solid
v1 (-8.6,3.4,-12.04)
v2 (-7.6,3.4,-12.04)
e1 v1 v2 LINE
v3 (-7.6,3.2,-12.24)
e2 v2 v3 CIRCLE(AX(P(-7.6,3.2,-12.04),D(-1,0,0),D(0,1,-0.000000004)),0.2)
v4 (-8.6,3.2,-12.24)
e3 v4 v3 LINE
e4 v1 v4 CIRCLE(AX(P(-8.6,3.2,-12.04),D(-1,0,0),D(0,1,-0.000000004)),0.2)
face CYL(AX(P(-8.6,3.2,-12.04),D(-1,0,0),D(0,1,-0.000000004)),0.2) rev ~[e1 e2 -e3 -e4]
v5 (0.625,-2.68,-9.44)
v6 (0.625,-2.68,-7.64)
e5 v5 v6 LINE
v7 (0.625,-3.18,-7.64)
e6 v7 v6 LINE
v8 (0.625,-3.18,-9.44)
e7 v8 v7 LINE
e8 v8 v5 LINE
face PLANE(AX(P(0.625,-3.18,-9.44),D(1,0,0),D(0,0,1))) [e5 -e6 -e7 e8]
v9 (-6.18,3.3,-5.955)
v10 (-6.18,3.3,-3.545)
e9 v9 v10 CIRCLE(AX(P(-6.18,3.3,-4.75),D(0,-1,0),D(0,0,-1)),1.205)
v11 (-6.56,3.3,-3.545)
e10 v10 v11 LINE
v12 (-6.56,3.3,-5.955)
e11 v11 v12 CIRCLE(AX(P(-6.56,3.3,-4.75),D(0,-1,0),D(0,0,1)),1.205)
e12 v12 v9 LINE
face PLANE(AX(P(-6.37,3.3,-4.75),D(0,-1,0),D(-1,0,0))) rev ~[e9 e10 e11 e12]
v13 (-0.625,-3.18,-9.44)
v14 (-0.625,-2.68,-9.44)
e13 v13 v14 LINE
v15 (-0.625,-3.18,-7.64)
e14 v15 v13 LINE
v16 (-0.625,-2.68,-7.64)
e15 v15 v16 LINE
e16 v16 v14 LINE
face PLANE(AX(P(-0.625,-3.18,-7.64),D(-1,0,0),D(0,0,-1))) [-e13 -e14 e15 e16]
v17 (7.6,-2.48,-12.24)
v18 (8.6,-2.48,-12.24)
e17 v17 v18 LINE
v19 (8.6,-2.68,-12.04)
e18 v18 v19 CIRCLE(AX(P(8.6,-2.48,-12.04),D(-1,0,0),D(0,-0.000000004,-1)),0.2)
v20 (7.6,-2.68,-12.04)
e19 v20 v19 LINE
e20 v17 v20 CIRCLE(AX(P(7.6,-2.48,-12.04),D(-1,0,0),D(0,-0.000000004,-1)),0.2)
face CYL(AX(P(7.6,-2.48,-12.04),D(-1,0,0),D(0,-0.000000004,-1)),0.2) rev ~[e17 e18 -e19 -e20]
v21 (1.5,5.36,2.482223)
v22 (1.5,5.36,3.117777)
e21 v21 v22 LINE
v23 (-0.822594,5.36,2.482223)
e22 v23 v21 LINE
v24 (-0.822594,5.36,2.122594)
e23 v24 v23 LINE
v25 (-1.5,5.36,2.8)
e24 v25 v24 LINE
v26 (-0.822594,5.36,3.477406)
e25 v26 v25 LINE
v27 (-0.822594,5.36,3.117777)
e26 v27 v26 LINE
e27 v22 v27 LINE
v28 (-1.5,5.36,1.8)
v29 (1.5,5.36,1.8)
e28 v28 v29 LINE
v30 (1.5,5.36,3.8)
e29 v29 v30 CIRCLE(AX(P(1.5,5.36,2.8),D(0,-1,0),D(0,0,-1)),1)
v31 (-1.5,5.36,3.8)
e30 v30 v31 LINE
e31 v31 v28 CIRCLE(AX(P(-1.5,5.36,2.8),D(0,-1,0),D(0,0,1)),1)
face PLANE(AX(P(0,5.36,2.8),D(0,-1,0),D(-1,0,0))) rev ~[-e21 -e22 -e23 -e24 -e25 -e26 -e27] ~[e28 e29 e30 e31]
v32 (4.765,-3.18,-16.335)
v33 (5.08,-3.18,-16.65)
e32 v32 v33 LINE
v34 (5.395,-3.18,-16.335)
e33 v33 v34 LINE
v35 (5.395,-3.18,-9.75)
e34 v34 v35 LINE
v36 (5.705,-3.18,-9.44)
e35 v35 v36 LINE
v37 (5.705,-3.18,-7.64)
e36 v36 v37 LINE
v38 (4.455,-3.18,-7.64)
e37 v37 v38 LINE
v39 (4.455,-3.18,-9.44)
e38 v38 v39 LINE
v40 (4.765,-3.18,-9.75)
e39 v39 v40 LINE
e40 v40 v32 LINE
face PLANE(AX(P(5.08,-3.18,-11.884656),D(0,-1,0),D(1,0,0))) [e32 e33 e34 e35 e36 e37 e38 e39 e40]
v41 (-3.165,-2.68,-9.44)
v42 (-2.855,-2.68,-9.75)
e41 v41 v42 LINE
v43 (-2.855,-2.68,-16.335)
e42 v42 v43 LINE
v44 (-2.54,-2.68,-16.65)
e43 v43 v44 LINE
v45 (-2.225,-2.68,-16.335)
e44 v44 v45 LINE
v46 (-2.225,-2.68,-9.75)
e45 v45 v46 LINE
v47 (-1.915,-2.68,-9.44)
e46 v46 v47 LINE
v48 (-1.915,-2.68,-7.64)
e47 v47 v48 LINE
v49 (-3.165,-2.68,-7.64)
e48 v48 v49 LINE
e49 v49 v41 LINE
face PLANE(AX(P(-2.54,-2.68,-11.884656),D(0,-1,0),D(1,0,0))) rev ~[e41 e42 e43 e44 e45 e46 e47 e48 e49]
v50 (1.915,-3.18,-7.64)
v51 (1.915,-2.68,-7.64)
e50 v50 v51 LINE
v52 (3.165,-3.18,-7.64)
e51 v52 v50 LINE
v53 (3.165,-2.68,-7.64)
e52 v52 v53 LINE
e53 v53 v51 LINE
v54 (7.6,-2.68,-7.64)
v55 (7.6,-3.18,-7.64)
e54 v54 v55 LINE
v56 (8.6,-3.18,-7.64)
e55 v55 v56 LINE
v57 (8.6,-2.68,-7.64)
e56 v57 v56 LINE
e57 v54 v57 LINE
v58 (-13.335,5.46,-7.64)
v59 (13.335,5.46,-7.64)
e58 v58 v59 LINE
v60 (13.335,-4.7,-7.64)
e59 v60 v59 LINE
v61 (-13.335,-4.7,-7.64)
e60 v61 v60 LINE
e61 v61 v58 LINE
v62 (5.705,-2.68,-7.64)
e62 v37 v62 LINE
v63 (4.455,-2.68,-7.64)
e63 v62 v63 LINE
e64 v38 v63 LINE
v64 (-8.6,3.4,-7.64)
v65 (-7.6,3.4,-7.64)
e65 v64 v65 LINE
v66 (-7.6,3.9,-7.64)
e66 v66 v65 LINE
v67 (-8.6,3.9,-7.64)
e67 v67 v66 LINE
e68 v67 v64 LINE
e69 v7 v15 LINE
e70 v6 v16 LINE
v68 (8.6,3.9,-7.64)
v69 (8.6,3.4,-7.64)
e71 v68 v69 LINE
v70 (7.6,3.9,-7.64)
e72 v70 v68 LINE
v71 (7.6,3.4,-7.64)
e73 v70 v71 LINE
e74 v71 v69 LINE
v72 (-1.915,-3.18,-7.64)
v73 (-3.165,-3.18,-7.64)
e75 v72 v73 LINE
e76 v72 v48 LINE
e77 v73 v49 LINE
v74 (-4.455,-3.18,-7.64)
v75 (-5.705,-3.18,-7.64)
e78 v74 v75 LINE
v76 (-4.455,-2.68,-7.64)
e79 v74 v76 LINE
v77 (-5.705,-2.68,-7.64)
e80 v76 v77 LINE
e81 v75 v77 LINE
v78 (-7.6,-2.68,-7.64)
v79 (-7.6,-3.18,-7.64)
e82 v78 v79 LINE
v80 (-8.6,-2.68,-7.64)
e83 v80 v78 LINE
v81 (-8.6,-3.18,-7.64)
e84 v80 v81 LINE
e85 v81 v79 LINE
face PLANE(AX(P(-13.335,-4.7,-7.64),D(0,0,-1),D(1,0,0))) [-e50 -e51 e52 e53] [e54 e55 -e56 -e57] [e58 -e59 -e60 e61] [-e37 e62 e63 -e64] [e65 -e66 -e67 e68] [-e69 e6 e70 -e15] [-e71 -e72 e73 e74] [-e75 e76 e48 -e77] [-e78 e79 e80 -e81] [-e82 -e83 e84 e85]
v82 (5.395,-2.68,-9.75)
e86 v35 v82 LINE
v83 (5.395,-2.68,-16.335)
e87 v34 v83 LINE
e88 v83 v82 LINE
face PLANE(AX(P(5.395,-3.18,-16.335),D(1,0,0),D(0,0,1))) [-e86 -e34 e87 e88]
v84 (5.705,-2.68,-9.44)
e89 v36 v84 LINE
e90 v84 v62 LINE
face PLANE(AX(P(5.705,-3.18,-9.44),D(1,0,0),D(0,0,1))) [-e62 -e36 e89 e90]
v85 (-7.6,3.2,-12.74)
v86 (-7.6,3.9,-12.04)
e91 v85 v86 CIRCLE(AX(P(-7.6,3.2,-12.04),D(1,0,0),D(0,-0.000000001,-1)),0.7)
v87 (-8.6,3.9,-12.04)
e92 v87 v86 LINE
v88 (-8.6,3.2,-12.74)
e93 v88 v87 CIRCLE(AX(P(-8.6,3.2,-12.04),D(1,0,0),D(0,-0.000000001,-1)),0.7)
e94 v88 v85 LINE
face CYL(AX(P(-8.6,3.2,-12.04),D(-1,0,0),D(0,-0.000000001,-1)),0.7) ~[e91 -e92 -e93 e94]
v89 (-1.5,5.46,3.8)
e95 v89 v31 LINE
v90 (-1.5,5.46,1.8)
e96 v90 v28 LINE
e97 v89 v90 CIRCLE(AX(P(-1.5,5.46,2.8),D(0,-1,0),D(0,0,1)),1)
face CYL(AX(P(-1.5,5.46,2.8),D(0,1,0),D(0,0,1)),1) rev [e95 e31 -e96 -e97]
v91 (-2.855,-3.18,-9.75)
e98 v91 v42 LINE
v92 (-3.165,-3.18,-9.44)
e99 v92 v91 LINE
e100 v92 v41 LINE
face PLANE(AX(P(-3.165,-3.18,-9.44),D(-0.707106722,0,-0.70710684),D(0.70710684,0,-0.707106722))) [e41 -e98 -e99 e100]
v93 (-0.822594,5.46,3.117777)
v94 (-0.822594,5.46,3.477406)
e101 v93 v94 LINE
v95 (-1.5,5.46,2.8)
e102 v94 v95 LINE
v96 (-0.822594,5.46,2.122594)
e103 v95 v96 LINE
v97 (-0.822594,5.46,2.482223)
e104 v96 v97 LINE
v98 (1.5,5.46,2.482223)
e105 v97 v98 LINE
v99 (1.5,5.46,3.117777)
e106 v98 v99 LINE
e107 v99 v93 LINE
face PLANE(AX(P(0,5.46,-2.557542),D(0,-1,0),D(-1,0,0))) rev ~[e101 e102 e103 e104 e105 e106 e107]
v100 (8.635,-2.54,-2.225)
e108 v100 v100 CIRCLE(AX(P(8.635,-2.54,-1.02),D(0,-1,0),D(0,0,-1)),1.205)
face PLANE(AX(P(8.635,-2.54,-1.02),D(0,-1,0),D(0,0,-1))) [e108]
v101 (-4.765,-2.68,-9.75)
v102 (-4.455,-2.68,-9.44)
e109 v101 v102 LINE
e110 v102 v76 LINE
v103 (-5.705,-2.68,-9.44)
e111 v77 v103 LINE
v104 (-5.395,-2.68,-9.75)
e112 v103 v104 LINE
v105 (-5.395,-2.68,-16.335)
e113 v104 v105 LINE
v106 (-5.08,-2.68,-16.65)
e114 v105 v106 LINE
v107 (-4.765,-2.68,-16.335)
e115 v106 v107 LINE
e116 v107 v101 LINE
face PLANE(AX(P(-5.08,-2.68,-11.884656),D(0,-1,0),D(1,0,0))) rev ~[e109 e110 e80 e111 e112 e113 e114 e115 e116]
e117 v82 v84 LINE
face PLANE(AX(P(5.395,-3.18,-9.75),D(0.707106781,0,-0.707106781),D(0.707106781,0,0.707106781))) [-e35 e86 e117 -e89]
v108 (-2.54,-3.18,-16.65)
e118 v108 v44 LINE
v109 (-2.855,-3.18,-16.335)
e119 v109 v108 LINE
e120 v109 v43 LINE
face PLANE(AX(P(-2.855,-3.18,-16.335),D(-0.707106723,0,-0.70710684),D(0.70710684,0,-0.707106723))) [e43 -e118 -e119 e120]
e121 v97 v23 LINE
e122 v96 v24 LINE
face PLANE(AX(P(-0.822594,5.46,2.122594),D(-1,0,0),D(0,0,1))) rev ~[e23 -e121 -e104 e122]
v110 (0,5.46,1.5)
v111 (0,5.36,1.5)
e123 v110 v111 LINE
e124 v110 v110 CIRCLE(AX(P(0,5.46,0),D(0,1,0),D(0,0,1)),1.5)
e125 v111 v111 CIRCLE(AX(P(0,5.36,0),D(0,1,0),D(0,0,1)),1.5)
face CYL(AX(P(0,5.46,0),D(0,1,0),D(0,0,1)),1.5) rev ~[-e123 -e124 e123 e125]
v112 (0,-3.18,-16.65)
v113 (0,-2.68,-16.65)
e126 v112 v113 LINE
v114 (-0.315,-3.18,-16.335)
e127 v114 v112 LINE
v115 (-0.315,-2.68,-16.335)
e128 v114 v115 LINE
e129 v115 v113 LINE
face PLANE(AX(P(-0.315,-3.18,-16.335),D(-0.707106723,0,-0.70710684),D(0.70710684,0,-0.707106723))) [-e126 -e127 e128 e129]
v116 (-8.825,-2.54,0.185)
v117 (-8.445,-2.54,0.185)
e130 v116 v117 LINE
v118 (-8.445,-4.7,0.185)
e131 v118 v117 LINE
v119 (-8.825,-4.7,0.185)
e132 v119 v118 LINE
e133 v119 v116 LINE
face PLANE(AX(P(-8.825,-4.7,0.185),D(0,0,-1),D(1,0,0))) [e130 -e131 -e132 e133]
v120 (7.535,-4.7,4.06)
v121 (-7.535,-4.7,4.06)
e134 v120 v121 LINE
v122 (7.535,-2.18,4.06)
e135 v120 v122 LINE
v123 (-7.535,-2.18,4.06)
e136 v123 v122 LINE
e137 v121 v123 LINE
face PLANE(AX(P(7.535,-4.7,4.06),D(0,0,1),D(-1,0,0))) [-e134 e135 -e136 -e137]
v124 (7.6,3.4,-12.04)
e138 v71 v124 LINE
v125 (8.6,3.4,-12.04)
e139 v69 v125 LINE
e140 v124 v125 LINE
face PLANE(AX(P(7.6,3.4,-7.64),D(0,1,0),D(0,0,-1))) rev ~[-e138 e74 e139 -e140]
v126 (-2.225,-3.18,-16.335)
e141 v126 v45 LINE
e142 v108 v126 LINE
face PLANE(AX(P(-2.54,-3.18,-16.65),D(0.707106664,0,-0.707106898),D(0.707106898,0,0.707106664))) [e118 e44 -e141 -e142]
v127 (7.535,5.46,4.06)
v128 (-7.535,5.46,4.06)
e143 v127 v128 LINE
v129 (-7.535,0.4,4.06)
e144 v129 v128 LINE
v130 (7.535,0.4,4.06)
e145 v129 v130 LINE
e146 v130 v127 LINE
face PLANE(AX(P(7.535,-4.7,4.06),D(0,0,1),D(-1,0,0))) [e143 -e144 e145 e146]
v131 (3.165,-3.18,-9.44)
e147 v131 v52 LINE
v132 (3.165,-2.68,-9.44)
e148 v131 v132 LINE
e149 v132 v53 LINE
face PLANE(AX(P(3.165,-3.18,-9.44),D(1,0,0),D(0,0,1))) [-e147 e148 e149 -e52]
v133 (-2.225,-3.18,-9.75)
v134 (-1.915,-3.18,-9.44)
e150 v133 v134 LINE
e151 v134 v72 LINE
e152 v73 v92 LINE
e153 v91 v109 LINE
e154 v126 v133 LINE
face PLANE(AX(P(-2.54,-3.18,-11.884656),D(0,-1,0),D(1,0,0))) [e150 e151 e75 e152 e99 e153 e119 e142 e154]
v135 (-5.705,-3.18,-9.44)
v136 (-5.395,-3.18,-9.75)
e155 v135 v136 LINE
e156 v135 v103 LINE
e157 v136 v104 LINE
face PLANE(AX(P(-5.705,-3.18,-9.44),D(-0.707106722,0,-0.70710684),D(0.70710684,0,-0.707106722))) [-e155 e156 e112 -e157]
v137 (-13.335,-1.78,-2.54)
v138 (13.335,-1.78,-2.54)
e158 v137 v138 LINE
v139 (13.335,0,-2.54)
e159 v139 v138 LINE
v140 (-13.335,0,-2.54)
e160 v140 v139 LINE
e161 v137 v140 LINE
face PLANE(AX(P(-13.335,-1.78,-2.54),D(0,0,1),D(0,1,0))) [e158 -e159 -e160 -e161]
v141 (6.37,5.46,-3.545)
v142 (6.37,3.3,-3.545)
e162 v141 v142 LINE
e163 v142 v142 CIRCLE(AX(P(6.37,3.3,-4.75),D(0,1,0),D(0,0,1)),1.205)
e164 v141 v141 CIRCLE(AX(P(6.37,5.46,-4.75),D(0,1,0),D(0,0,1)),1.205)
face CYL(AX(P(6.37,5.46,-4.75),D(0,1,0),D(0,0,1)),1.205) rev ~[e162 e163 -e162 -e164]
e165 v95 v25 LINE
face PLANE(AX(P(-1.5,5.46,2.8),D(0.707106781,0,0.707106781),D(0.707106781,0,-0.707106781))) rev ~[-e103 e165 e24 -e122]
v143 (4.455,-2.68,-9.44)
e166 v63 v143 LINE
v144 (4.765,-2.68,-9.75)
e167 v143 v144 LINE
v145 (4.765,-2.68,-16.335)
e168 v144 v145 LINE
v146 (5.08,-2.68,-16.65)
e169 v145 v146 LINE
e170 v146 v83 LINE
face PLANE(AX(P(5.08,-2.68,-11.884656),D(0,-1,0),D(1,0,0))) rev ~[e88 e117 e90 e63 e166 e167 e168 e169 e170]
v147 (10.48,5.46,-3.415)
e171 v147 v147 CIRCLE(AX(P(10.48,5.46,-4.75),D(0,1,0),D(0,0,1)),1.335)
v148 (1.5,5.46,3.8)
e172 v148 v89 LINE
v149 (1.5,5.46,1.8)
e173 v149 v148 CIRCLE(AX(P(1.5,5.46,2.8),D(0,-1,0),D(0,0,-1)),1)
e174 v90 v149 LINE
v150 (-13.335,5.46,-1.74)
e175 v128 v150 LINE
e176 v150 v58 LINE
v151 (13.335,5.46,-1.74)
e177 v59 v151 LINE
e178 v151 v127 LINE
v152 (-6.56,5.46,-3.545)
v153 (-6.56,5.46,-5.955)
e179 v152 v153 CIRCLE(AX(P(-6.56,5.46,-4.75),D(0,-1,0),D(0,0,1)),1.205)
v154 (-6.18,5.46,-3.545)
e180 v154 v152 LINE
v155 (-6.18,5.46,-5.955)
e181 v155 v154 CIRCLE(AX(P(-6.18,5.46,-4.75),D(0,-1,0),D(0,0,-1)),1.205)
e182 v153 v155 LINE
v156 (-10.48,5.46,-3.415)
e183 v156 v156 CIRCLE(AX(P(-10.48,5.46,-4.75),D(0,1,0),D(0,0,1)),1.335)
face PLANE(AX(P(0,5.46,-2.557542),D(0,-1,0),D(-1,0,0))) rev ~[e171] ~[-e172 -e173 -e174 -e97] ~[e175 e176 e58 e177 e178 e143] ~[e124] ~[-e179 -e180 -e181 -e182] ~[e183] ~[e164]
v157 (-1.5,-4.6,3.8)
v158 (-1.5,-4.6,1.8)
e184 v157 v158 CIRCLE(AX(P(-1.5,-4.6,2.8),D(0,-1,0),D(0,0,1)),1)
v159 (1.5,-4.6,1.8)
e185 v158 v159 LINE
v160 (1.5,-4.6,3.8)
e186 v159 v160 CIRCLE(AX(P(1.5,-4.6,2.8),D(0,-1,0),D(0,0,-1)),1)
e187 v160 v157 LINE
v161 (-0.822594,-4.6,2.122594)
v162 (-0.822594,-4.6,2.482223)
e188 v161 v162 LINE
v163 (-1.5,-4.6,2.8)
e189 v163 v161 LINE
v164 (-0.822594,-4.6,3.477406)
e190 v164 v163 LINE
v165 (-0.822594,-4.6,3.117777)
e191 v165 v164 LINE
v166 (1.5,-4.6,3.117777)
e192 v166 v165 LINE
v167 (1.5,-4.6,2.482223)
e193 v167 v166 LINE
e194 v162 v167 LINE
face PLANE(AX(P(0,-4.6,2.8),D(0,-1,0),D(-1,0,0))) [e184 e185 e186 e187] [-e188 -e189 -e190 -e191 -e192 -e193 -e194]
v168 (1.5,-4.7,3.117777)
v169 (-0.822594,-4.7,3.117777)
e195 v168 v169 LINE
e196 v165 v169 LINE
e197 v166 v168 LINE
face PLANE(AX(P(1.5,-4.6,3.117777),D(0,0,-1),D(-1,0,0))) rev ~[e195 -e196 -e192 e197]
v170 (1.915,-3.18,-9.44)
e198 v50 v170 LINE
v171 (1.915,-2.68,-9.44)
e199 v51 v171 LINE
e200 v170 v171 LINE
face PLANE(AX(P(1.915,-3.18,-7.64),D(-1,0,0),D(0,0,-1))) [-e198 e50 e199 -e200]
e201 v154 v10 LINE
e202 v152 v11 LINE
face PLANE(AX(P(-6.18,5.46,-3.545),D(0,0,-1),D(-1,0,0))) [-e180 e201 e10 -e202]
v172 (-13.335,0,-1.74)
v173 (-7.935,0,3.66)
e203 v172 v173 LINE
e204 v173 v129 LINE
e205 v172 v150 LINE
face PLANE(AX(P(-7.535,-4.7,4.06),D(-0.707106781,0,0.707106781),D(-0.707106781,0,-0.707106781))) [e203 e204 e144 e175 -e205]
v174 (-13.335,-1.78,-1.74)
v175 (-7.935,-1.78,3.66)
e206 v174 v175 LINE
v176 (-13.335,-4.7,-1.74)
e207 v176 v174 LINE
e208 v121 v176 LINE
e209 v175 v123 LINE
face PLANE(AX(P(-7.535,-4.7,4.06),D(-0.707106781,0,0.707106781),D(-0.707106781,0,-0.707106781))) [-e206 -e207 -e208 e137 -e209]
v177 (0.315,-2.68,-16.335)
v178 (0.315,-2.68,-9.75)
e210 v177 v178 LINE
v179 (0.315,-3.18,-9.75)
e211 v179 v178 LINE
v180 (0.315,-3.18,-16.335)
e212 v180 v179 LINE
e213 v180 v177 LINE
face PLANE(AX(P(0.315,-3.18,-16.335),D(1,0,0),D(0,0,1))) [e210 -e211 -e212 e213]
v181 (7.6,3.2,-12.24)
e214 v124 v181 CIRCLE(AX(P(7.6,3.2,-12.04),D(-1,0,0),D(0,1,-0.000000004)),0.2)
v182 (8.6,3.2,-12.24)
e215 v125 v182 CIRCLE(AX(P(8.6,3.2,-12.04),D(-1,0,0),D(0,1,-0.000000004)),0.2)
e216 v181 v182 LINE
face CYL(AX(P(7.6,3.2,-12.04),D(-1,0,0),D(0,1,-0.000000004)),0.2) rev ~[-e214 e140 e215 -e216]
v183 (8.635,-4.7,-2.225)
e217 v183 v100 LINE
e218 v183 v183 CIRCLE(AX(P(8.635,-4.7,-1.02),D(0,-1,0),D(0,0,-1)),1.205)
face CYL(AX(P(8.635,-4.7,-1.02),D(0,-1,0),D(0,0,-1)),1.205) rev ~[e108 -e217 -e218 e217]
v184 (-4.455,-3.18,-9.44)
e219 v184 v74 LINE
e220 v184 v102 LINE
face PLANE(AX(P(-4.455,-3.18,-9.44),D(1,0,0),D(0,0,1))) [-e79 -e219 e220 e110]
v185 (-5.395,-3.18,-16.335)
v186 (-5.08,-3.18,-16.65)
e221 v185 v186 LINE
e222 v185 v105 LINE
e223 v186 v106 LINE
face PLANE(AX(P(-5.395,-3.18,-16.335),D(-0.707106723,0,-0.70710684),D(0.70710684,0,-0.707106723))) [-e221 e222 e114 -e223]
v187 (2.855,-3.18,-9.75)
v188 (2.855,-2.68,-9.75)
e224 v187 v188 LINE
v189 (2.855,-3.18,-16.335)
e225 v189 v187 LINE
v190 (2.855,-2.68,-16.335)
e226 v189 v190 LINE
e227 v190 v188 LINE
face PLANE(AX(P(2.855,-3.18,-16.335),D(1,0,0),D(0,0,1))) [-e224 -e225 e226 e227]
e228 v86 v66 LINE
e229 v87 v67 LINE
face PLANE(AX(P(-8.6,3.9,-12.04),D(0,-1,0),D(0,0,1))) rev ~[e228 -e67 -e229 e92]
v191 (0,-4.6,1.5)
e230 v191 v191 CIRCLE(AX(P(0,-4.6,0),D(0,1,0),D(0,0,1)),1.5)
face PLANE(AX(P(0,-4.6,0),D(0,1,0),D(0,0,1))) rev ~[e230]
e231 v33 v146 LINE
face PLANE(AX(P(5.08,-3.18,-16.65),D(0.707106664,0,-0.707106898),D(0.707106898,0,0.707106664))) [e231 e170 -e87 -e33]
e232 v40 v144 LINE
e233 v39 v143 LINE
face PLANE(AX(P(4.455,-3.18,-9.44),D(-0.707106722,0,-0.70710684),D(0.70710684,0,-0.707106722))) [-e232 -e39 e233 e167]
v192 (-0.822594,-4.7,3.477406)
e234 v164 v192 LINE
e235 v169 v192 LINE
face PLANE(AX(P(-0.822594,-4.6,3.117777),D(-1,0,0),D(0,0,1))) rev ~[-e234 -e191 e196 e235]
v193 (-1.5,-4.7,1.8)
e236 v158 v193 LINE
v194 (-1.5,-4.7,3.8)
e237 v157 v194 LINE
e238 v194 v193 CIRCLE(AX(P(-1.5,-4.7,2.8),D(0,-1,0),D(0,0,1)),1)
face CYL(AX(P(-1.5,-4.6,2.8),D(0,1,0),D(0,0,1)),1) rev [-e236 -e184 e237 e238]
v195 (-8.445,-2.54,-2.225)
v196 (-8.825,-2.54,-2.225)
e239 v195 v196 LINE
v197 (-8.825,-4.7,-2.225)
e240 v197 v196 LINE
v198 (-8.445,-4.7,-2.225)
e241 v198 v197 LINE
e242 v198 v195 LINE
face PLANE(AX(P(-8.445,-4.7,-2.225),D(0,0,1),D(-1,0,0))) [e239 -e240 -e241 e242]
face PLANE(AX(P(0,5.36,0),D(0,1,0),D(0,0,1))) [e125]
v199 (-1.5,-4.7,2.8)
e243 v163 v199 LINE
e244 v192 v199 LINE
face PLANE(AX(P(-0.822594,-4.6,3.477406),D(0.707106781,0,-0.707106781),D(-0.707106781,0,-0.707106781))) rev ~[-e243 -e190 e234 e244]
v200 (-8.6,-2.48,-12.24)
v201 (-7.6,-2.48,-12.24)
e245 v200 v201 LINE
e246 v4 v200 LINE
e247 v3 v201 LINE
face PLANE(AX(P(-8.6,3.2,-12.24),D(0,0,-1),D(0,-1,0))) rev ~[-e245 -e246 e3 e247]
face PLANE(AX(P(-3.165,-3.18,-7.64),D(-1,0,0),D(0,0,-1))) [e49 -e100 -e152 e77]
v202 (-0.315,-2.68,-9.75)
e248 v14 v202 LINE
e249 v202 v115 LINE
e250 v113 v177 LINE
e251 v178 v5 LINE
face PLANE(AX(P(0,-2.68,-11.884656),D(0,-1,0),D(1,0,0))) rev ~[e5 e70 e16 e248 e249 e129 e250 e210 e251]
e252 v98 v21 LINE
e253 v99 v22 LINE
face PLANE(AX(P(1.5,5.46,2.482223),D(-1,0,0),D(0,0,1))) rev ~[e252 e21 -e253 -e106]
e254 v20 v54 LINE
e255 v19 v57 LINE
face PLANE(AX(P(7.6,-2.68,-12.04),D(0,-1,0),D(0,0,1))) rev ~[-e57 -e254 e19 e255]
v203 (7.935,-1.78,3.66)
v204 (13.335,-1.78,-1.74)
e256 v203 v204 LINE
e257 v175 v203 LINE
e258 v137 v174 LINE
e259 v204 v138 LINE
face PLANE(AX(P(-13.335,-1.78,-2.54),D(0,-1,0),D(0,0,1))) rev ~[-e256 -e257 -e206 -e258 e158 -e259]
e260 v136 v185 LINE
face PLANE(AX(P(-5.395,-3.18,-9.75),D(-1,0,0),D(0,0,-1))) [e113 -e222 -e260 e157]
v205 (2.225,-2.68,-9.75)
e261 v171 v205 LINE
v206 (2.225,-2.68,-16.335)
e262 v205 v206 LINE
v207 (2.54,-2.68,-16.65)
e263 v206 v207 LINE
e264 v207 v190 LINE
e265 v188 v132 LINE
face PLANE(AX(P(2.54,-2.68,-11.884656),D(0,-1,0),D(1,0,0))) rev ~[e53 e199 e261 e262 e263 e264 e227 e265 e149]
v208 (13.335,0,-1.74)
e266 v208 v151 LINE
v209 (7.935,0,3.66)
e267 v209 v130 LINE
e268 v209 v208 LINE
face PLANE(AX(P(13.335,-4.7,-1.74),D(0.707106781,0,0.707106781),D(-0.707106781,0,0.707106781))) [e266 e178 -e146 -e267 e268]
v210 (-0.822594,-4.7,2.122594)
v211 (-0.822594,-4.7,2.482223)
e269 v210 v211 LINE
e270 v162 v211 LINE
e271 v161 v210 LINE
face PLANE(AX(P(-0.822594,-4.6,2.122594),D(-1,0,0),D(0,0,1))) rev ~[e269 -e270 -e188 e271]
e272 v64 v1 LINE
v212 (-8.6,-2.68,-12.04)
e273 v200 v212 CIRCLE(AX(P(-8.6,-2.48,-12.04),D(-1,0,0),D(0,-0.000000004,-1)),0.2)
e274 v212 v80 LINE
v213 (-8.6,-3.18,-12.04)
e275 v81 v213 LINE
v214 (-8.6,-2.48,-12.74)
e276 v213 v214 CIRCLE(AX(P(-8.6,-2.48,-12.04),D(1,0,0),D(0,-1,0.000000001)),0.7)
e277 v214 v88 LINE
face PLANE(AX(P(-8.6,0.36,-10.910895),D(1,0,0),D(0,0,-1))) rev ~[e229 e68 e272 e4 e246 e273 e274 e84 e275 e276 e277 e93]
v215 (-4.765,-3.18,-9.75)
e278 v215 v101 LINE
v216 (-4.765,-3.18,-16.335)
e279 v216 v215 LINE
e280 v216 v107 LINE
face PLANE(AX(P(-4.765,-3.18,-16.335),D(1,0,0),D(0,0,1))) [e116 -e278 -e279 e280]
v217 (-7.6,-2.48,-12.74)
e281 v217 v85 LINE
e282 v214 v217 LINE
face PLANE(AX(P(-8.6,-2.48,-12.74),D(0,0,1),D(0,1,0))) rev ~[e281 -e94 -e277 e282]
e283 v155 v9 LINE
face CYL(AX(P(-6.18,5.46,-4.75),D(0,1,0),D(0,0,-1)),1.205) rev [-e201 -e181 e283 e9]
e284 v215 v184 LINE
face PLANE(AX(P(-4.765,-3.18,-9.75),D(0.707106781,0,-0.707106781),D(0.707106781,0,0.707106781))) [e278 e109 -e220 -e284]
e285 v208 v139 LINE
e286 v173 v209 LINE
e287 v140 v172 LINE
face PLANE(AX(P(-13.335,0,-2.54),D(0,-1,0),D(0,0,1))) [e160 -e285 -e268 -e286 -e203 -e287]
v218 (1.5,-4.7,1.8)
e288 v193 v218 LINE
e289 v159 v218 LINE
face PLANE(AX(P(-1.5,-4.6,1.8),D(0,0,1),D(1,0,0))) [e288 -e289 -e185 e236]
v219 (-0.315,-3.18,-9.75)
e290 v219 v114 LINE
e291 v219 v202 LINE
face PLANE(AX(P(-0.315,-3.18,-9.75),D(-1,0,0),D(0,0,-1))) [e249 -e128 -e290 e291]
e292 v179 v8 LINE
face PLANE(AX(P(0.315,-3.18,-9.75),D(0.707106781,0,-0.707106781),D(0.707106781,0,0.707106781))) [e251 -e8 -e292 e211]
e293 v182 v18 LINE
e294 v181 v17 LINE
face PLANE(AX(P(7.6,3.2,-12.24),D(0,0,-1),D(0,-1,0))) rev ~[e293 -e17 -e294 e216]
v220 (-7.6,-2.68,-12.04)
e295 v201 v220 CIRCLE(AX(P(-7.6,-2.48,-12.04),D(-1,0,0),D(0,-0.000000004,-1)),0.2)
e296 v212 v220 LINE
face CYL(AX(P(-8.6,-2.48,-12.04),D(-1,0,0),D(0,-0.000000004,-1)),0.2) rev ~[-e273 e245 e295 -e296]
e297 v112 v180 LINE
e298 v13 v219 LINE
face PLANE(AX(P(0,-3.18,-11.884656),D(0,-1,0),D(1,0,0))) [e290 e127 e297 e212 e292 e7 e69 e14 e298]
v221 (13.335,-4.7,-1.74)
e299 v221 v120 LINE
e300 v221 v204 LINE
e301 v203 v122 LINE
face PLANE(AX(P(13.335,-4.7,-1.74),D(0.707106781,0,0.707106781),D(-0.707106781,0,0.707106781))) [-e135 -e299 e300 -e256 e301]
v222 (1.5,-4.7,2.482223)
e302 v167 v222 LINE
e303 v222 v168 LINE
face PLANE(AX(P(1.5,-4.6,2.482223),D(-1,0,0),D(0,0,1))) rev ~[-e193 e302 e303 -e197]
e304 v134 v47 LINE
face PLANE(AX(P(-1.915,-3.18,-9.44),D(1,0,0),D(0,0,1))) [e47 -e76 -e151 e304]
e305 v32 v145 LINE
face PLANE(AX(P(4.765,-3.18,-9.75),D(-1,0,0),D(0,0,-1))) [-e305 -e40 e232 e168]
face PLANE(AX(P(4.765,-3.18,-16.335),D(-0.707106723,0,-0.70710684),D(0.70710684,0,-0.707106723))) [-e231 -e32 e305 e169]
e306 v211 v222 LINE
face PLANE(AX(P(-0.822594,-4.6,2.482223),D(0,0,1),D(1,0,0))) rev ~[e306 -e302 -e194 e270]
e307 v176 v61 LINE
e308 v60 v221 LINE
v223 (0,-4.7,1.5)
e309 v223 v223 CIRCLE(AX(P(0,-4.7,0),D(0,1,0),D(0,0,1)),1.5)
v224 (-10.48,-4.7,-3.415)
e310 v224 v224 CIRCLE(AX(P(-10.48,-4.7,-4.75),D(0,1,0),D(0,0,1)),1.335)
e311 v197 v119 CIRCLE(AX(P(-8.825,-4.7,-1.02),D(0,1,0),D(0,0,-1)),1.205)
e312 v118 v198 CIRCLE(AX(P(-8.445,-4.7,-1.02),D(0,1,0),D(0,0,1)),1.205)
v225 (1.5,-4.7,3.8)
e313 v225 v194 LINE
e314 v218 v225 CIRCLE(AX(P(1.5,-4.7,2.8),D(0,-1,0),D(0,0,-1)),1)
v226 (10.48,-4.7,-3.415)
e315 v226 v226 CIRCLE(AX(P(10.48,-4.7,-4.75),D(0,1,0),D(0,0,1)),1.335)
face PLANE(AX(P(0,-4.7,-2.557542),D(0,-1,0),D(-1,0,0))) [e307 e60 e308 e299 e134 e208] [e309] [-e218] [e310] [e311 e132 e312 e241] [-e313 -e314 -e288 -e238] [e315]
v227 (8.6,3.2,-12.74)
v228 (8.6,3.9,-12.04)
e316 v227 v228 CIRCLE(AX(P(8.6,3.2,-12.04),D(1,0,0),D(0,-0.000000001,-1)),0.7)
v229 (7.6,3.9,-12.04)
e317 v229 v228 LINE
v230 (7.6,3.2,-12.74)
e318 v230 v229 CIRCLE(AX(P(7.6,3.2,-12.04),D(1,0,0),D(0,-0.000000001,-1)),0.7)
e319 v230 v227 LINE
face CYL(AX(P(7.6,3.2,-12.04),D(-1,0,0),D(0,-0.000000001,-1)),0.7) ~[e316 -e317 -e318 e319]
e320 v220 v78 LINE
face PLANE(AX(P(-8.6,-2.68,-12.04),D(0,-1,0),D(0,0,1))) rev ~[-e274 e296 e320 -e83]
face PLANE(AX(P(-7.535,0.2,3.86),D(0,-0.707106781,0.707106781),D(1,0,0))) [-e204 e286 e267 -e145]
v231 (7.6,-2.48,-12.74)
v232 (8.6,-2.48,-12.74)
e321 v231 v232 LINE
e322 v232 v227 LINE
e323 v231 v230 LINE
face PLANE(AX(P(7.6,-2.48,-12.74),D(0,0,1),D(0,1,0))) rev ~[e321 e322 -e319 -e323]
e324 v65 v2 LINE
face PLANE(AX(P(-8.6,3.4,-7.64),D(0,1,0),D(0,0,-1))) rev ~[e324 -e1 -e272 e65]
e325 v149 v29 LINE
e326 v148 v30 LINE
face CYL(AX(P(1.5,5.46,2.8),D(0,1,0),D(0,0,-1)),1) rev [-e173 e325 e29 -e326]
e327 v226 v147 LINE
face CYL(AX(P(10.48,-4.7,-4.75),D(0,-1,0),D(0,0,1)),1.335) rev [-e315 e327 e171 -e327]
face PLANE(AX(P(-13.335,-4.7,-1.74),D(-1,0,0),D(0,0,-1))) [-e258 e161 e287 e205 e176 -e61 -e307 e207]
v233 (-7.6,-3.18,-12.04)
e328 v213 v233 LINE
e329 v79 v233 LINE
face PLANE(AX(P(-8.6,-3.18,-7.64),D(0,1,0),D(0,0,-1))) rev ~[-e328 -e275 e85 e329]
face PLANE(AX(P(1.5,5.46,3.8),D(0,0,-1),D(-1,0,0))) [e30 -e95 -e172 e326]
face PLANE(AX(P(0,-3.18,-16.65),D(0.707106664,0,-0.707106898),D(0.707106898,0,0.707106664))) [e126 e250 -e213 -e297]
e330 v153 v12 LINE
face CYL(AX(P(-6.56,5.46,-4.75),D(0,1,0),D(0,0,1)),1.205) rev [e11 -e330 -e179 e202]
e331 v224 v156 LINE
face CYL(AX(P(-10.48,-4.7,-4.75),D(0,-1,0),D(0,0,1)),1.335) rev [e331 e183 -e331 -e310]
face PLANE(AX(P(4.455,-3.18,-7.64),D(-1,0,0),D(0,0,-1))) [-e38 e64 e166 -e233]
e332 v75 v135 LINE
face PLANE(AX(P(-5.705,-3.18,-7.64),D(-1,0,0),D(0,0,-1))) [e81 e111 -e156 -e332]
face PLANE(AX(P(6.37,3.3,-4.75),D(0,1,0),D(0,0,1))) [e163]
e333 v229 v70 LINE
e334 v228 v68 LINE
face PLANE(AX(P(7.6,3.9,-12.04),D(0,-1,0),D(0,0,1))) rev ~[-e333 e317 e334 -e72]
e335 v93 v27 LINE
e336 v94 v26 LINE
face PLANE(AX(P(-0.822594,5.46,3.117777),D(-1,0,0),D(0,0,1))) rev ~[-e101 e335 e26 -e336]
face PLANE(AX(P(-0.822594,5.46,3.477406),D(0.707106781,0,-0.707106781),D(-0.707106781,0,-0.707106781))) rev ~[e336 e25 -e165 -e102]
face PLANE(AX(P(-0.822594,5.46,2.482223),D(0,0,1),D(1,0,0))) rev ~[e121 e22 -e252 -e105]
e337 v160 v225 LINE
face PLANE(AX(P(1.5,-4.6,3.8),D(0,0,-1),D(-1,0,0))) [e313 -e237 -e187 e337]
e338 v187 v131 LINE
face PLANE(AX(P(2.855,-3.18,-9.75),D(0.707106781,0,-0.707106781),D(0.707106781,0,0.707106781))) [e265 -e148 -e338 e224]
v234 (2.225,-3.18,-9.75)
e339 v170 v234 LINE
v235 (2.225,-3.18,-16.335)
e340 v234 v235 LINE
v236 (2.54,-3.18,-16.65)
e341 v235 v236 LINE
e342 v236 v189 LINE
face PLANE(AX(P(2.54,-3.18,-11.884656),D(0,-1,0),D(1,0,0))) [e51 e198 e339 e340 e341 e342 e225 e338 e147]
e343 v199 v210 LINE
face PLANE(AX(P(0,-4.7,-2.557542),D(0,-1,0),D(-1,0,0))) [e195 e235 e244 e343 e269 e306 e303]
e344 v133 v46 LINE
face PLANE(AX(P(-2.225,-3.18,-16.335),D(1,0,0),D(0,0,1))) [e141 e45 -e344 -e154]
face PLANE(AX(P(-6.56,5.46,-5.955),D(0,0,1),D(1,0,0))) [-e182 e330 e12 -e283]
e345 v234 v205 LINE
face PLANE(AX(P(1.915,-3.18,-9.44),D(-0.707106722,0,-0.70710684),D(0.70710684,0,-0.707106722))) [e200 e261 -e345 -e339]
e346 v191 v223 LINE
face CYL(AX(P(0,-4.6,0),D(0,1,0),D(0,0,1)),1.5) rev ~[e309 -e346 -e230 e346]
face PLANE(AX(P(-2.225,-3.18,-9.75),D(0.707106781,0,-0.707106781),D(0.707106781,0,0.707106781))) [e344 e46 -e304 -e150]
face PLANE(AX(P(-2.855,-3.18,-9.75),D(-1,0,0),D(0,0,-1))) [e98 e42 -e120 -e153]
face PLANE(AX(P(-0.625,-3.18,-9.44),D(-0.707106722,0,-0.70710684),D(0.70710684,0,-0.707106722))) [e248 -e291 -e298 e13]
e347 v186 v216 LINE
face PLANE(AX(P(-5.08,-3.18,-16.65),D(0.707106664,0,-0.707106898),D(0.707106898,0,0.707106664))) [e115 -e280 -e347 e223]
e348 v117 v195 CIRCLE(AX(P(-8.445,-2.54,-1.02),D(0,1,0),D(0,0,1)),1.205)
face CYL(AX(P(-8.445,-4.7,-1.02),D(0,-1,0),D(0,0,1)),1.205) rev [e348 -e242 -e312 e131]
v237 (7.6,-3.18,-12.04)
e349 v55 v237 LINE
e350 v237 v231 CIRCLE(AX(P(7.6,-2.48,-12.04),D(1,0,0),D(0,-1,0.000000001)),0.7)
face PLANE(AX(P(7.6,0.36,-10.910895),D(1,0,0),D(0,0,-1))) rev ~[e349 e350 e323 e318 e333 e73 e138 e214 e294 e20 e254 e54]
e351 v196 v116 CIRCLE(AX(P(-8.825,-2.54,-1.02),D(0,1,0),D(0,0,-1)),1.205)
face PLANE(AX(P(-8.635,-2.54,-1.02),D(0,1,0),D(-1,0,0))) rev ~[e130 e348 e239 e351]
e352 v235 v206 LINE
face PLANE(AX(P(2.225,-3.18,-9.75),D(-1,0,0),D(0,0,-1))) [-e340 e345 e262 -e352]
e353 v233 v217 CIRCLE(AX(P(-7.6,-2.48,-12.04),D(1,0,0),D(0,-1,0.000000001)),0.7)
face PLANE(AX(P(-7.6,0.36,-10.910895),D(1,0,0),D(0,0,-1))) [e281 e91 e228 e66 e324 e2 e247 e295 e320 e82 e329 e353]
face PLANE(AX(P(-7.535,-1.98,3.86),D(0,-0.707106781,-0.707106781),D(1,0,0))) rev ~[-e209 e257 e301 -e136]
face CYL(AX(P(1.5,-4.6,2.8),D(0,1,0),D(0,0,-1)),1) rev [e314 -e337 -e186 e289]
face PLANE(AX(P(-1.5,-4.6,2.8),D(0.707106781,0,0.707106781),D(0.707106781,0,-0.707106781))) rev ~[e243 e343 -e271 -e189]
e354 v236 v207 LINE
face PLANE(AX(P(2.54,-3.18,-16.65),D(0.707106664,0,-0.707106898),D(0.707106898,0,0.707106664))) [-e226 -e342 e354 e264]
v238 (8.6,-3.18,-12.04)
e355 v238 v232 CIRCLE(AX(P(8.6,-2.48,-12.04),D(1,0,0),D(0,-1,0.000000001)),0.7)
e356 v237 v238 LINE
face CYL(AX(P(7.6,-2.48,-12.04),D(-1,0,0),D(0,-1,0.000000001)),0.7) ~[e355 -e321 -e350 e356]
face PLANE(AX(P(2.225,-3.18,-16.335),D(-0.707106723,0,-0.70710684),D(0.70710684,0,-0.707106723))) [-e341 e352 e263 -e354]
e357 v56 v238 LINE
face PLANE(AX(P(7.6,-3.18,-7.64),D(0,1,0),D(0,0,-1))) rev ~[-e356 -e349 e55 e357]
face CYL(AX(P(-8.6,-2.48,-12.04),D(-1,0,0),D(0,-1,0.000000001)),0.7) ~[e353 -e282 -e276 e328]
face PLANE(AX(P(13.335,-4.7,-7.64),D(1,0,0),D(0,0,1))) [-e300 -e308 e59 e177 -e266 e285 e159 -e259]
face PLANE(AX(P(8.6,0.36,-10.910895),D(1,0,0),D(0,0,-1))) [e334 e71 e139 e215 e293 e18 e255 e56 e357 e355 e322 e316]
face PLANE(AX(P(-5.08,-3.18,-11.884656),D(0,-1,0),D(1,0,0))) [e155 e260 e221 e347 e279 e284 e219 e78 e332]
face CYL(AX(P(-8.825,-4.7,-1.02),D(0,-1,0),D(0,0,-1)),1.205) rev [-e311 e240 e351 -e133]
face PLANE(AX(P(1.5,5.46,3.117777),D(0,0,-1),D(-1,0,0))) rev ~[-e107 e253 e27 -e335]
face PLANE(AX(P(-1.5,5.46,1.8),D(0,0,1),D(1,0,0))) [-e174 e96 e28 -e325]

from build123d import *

# Parameters (mm, degrees)
BOSS_EXTRUDE1_DEPTH      = 5.46
BOSS_EXTRUDE1_DEPTH_BACK = 4.7
SKETCH1_R                = 1.335
SKETCH2_W                = 6.6
SKETCH2_H                = 1.78
CUT_EXTRUDE1_DEPTH       = 29.274902299
CHAMFER1_SIZE            = 0.4
SKETCH7_R                = 1.5
CUT_EXTRUDE4_DEPTH       = 0.1
CUT_EXTRUDE5_START       = -10.06
SKETCH7_2_R              = 1.5
CUT_EXTRUDE5_DEPTH       = 0.1
SKETCH3_R                = 1.205
CUT_EXTRUDE2_DEPTH       = 2.16
SKETCH4_R                = 1.205
CUT_EXTRUDE3_DEPTH       = 2.16
BOSS_EXTRUDE2_START      = -1.52
BOSS_EXTRUDE2_DEPTH      = 0.5
LPATTERN1_COUNT          = 3
LPATTERN1_PITCH          = 2.54
LPATTERN2_COUNT          = 3
LPATTERN2_PITCH          = 2.54
BOSS_EXTRUDE3_START      = 7.6
BOSS_EXTRUDE3_DEPTH      = 1
BOSS_EXTRUDE4_START      = -8.6
BOSS_EXTRUDE4_DEPTH      = 1


with BuildPart() as part:
    # Sketch1 → Boss-Extrude1 (new, two sides: drawn at the far end of the back side and taken through both)
    with BuildSketch(Plane(origin=(0, 0, 0), x_dir=(1, 0, 0), z_dir=(0, 1, 0)).offset(-BOSS_EXTRUDE1_DEPTH_BACK)):
        Polygon((-13.335, 7.64), (13.335, 7.64), (13.335, 1.74), (7.535, -4.06), (-7.535, -4.06), (-13.335, 1.74), align=None)
        with Locations(Location((10.48, 4.75, 0), (0, 0, 270))):
            Circle(SKETCH1_R, mode=Mode.SUBTRACT)
        with Locations(Location((-10.48, 4.75, 0), (0, 0, 270))):
            Circle(SKETCH1_R, mode=Mode.SUBTRACT)
    extrude(amount=BOSS_EXTRUDE1_DEPTH + BOSS_EXTRUDE1_DEPTH_BACK)

    # Sketch2 → Cut-Extrude1 (cut, through all)
    with BuildSketch(Plane.ZY.offset(13.335)):
        with Locations((0.76, -0.89)):
            Rectangle(SKETCH2_W, SKETCH2_H)
    extrude(amount=-CUT_EXTRUDE1_DEPTH, mode=Mode.SUBTRACT)

    # Chamfer1
    chamfer1_edges = [part.edges().sort_by_distance(p)[0] for p in [
        (0, 0, 4.06),
        (0, -1.78, 4.06),
    ]]
    chamfer(chamfer1_edges, length=CHAMFER1_SIZE)

    # Sketch7 → Cut-Extrude4 (cut)
    # profile 1 of 2: a face of its own
    with BuildSketch(Plane(origin=(0, 5.46, 0), x_dir=(1, 0, 0), z_dir=(0, 1, 0))):
        with Locations(Location((0, 0, 0), (0, 0, 270))):
            Circle(SKETCH7_R)
    # profile 2 of 2: a face of its own
    with BuildSketch(Plane(origin=(0, 5.46, 0), x_dir=(1, 0, 0), z_dir=(0, 1, 0))):
        with BuildLine():
            Line((-1.5, -1.8), (1.5, -1.8))
            ThreePointArc((1.5, -1.8), (2.5, -2.8), (1.5, -3.8))
            Line((1.5, -3.8), (-1.5, -3.8))
            ThreePointArc((-1.5, -3.8), (-2.5, -2.8), (-1.5, -1.8))
        make_face()
        Polygon((-1.5, -2.8), (-0.82259388, -2.12259388), (-0.82259388, -2.482222738), (1.5, -2.482222738), (1.5, -3.117777262), (-0.82259388, -3.117777262), (-0.82259388, -3.47740612), align=None, mode=Mode.SUBTRACT)
    extrude(amount=-CUT_EXTRUDE4_DEPTH, mode=Mode.SUBTRACT)

    # Sketch7<2> → Cut-Extrude5 (cut)
    # profile 1 of 2: a face of its own
    with BuildSketch(Plane(origin=(0, 5.46, 0), x_dir=(1, 0, 0), z_dir=(0, 1, 0)).offset(CUT_EXTRUDE5_START)):
        with Locations(Location((0, 0, 0), (0, 0, 270))):
            Circle(SKETCH7_2_R)
    # profile 2 of 2: a face of its own
    with BuildSketch(Plane(origin=(0, 5.46, 0), x_dir=(1, 0, 0), z_dir=(0, 1, 0)).offset(CUT_EXTRUDE5_START)):
        with BuildLine():
            Line((-1.5, -1.8), (1.5, -1.8))
            ThreePointArc((1.5, -1.8), (2.5, -2.8), (1.5, -3.8))
            Line((1.5, -3.8), (-1.5, -3.8))
            ThreePointArc((-1.5, -3.8), (-2.5, -2.8), (-1.5, -1.8))
        make_face()
        Polygon((-1.5, -2.8), (-0.82259388, -2.12259388), (-0.82259388, -2.482222738), (1.5, -2.482222738), (1.5, -3.117777262), (-0.82259388, -3.117777262), (-0.82259388, -3.47740612), align=None, mode=Mode.SUBTRACT)
    extrude(amount=-CUT_EXTRUDE5_DEPTH, mode=Mode.SUBTRACT)

    # Sketch3 → Cut-Extrude2 (cut)
    with BuildSketch(Plane(origin=(0, 5.46, 0), x_dir=(1, 0, 0), z_dir=(0, 1, 0))):
        with Locations(Location((6.37, 4.75, 0), (0, 0, 270))):
            Circle(SKETCH3_R)
        with BuildLine():
            Line((-6.56, 5.955), (-6.18, 5.955))
            ThreePointArc((-6.18, 5.955), (-4.975, 4.75), (-6.18, 3.545))
            Line((-6.18, 3.545), (-6.56, 3.545))
            ThreePointArc((-6.56, 3.545), (-7.765, 4.75), (-6.56, 5.955))
        make_face()
    extrude(amount=-CUT_EXTRUDE2_DEPTH, mode=Mode.SUBTRACT)

    # Sketch4 → Cut-Extrude3 (cut)
    with BuildSketch(Plane.XZ.offset(4.7)):
        with Locations(Location((8.635, -1.02, 0), (0, 0, 270))):
            Circle(SKETCH4_R)
        with BuildLine():
            Line((-8.825, 0.185), (-8.445, 0.185))
            ThreePointArc((-8.445, 0.185), (-7.24, -1.02), (-8.445, -2.225))
            Line((-8.445, -2.225), (-8.825, -2.225))
            ThreePointArc((-8.825, -2.225), (-10.03, -1.02), (-8.825, 0.185))
        make_face()
    extrude(amount=-CUT_EXTRUDE3_DEPTH, mode=Mode.SUBTRACT)

    # Sketch5 → Boss-Extrude2 (add)
    with BuildSketch(Plane.XZ.offset(4.7).offset(BOSS_EXTRUDE2_START)):
        Polygon((-0.625, -7.64), (-0.625, -9.440000013), (-0.314999987, -9.749999974), (-0.314999987, -16.335000065), (0, -16.65), (0.315000013, -16.335000091), (0.315000013, -9.75), (0.625, -9.440000013), (0.625, -7.64), align=None)
    boss_extrude2 = extrude(amount=-BOSS_EXTRUDE2_DEPTH)

    # LPattern1: Boss-Extrude2 ×3
    with Locations(*[(i * LPATTERN1_PITCH, 0, 0) for i in range(1, LPATTERN1_COUNT)]):
        add(boss_extrude2)

    # LPattern2: Boss-Extrude2 ×3
    with Locations(*[(-i * LPATTERN2_PITCH, 0, 0) for i in range(1, LPATTERN2_COUNT)]):
        add(boss_extrude2)

    # Sketch6 → Boss-Extrude3 (add)
    with BuildSketch(Plane(origin=(0, 0, 0), x_dir=(0, 0, -1), z_dir=(1, 0, 0)).offset(BOSS_EXTRUDE3_START)):
        with BuildLine():
            Line((7.64, -3.18), (12.04, -3.18))
            ThreePointArc((12.04, -3.18), (12.534974747, -2.974974747), (12.74, -2.48))
            Line((12.74, -2.48), (12.74, 3.2))
            ThreePointArc((12.74, 3.2), (12.534974747, 3.694974747), (12.04, 3.9))
            Line((12.04, 3.9), (7.64, 3.9))
            Line((7.64, 3.9), (7.64, 3.4))
            Line((7.64, 3.4), (12.04, 3.4))
            ThreePointArc((12.04, 3.4), (12.181421356, 3.341421356), (12.24, 3.2))
            Line((12.24, 3.2), (12.24, -2.48))
            ThreePointArc((12.24, -2.48), (12.181421356, -2.621421356), (12.04, -2.68))
            Line((12.04, -2.68), (7.64, -2.68))
            Line((7.64, -2.68), (7.64, -3.18))
        make_face()
    extrude(amount=BOSS_EXTRUDE3_DEPTH)

    # Sketch6<2> → Boss-Extrude4 (add)
    with BuildSketch(Plane(origin=(0, 0, 0), x_dir=(0, 0, -1), z_dir=(1, 0, 0)).offset(BOSS_EXTRUDE4_START)):
        with BuildLine():
            Line((7.64, -3.18), (12.04, -3.18))
            ThreePointArc((12.04, -3.18), (12.534974747, -2.974974747), (12.74, -2.48))
            Line((12.74, -2.48), (12.74, 3.2))
            ThreePointArc((12.74, 3.2), (12.534974747, 3.694974747), (12.04, 3.9))
            Line((12.04, 3.9), (7.64, 3.9))
            Line((7.64, 3.9), (7.64, 3.4))
            Line((7.64, 3.4), (12.04, 3.4))
            ThreePointArc((12.04, 3.4), (12.181421356, 3.341421356), (12.24, 3.2))
            Line((12.24, 3.2), (12.24, -2.48))
            ThreePointArc((12.24, -2.48), (12.181421356, -2.621421356), (12.04, -2.68))
            Line((12.04, -2.68), (7.64, -2.68))
            Line((7.64, -2.68), (7.64, -3.18))
        make_face()
    extrude(amount=BOSS_EXTRUDE4_DEPTH)


solid = part.part
